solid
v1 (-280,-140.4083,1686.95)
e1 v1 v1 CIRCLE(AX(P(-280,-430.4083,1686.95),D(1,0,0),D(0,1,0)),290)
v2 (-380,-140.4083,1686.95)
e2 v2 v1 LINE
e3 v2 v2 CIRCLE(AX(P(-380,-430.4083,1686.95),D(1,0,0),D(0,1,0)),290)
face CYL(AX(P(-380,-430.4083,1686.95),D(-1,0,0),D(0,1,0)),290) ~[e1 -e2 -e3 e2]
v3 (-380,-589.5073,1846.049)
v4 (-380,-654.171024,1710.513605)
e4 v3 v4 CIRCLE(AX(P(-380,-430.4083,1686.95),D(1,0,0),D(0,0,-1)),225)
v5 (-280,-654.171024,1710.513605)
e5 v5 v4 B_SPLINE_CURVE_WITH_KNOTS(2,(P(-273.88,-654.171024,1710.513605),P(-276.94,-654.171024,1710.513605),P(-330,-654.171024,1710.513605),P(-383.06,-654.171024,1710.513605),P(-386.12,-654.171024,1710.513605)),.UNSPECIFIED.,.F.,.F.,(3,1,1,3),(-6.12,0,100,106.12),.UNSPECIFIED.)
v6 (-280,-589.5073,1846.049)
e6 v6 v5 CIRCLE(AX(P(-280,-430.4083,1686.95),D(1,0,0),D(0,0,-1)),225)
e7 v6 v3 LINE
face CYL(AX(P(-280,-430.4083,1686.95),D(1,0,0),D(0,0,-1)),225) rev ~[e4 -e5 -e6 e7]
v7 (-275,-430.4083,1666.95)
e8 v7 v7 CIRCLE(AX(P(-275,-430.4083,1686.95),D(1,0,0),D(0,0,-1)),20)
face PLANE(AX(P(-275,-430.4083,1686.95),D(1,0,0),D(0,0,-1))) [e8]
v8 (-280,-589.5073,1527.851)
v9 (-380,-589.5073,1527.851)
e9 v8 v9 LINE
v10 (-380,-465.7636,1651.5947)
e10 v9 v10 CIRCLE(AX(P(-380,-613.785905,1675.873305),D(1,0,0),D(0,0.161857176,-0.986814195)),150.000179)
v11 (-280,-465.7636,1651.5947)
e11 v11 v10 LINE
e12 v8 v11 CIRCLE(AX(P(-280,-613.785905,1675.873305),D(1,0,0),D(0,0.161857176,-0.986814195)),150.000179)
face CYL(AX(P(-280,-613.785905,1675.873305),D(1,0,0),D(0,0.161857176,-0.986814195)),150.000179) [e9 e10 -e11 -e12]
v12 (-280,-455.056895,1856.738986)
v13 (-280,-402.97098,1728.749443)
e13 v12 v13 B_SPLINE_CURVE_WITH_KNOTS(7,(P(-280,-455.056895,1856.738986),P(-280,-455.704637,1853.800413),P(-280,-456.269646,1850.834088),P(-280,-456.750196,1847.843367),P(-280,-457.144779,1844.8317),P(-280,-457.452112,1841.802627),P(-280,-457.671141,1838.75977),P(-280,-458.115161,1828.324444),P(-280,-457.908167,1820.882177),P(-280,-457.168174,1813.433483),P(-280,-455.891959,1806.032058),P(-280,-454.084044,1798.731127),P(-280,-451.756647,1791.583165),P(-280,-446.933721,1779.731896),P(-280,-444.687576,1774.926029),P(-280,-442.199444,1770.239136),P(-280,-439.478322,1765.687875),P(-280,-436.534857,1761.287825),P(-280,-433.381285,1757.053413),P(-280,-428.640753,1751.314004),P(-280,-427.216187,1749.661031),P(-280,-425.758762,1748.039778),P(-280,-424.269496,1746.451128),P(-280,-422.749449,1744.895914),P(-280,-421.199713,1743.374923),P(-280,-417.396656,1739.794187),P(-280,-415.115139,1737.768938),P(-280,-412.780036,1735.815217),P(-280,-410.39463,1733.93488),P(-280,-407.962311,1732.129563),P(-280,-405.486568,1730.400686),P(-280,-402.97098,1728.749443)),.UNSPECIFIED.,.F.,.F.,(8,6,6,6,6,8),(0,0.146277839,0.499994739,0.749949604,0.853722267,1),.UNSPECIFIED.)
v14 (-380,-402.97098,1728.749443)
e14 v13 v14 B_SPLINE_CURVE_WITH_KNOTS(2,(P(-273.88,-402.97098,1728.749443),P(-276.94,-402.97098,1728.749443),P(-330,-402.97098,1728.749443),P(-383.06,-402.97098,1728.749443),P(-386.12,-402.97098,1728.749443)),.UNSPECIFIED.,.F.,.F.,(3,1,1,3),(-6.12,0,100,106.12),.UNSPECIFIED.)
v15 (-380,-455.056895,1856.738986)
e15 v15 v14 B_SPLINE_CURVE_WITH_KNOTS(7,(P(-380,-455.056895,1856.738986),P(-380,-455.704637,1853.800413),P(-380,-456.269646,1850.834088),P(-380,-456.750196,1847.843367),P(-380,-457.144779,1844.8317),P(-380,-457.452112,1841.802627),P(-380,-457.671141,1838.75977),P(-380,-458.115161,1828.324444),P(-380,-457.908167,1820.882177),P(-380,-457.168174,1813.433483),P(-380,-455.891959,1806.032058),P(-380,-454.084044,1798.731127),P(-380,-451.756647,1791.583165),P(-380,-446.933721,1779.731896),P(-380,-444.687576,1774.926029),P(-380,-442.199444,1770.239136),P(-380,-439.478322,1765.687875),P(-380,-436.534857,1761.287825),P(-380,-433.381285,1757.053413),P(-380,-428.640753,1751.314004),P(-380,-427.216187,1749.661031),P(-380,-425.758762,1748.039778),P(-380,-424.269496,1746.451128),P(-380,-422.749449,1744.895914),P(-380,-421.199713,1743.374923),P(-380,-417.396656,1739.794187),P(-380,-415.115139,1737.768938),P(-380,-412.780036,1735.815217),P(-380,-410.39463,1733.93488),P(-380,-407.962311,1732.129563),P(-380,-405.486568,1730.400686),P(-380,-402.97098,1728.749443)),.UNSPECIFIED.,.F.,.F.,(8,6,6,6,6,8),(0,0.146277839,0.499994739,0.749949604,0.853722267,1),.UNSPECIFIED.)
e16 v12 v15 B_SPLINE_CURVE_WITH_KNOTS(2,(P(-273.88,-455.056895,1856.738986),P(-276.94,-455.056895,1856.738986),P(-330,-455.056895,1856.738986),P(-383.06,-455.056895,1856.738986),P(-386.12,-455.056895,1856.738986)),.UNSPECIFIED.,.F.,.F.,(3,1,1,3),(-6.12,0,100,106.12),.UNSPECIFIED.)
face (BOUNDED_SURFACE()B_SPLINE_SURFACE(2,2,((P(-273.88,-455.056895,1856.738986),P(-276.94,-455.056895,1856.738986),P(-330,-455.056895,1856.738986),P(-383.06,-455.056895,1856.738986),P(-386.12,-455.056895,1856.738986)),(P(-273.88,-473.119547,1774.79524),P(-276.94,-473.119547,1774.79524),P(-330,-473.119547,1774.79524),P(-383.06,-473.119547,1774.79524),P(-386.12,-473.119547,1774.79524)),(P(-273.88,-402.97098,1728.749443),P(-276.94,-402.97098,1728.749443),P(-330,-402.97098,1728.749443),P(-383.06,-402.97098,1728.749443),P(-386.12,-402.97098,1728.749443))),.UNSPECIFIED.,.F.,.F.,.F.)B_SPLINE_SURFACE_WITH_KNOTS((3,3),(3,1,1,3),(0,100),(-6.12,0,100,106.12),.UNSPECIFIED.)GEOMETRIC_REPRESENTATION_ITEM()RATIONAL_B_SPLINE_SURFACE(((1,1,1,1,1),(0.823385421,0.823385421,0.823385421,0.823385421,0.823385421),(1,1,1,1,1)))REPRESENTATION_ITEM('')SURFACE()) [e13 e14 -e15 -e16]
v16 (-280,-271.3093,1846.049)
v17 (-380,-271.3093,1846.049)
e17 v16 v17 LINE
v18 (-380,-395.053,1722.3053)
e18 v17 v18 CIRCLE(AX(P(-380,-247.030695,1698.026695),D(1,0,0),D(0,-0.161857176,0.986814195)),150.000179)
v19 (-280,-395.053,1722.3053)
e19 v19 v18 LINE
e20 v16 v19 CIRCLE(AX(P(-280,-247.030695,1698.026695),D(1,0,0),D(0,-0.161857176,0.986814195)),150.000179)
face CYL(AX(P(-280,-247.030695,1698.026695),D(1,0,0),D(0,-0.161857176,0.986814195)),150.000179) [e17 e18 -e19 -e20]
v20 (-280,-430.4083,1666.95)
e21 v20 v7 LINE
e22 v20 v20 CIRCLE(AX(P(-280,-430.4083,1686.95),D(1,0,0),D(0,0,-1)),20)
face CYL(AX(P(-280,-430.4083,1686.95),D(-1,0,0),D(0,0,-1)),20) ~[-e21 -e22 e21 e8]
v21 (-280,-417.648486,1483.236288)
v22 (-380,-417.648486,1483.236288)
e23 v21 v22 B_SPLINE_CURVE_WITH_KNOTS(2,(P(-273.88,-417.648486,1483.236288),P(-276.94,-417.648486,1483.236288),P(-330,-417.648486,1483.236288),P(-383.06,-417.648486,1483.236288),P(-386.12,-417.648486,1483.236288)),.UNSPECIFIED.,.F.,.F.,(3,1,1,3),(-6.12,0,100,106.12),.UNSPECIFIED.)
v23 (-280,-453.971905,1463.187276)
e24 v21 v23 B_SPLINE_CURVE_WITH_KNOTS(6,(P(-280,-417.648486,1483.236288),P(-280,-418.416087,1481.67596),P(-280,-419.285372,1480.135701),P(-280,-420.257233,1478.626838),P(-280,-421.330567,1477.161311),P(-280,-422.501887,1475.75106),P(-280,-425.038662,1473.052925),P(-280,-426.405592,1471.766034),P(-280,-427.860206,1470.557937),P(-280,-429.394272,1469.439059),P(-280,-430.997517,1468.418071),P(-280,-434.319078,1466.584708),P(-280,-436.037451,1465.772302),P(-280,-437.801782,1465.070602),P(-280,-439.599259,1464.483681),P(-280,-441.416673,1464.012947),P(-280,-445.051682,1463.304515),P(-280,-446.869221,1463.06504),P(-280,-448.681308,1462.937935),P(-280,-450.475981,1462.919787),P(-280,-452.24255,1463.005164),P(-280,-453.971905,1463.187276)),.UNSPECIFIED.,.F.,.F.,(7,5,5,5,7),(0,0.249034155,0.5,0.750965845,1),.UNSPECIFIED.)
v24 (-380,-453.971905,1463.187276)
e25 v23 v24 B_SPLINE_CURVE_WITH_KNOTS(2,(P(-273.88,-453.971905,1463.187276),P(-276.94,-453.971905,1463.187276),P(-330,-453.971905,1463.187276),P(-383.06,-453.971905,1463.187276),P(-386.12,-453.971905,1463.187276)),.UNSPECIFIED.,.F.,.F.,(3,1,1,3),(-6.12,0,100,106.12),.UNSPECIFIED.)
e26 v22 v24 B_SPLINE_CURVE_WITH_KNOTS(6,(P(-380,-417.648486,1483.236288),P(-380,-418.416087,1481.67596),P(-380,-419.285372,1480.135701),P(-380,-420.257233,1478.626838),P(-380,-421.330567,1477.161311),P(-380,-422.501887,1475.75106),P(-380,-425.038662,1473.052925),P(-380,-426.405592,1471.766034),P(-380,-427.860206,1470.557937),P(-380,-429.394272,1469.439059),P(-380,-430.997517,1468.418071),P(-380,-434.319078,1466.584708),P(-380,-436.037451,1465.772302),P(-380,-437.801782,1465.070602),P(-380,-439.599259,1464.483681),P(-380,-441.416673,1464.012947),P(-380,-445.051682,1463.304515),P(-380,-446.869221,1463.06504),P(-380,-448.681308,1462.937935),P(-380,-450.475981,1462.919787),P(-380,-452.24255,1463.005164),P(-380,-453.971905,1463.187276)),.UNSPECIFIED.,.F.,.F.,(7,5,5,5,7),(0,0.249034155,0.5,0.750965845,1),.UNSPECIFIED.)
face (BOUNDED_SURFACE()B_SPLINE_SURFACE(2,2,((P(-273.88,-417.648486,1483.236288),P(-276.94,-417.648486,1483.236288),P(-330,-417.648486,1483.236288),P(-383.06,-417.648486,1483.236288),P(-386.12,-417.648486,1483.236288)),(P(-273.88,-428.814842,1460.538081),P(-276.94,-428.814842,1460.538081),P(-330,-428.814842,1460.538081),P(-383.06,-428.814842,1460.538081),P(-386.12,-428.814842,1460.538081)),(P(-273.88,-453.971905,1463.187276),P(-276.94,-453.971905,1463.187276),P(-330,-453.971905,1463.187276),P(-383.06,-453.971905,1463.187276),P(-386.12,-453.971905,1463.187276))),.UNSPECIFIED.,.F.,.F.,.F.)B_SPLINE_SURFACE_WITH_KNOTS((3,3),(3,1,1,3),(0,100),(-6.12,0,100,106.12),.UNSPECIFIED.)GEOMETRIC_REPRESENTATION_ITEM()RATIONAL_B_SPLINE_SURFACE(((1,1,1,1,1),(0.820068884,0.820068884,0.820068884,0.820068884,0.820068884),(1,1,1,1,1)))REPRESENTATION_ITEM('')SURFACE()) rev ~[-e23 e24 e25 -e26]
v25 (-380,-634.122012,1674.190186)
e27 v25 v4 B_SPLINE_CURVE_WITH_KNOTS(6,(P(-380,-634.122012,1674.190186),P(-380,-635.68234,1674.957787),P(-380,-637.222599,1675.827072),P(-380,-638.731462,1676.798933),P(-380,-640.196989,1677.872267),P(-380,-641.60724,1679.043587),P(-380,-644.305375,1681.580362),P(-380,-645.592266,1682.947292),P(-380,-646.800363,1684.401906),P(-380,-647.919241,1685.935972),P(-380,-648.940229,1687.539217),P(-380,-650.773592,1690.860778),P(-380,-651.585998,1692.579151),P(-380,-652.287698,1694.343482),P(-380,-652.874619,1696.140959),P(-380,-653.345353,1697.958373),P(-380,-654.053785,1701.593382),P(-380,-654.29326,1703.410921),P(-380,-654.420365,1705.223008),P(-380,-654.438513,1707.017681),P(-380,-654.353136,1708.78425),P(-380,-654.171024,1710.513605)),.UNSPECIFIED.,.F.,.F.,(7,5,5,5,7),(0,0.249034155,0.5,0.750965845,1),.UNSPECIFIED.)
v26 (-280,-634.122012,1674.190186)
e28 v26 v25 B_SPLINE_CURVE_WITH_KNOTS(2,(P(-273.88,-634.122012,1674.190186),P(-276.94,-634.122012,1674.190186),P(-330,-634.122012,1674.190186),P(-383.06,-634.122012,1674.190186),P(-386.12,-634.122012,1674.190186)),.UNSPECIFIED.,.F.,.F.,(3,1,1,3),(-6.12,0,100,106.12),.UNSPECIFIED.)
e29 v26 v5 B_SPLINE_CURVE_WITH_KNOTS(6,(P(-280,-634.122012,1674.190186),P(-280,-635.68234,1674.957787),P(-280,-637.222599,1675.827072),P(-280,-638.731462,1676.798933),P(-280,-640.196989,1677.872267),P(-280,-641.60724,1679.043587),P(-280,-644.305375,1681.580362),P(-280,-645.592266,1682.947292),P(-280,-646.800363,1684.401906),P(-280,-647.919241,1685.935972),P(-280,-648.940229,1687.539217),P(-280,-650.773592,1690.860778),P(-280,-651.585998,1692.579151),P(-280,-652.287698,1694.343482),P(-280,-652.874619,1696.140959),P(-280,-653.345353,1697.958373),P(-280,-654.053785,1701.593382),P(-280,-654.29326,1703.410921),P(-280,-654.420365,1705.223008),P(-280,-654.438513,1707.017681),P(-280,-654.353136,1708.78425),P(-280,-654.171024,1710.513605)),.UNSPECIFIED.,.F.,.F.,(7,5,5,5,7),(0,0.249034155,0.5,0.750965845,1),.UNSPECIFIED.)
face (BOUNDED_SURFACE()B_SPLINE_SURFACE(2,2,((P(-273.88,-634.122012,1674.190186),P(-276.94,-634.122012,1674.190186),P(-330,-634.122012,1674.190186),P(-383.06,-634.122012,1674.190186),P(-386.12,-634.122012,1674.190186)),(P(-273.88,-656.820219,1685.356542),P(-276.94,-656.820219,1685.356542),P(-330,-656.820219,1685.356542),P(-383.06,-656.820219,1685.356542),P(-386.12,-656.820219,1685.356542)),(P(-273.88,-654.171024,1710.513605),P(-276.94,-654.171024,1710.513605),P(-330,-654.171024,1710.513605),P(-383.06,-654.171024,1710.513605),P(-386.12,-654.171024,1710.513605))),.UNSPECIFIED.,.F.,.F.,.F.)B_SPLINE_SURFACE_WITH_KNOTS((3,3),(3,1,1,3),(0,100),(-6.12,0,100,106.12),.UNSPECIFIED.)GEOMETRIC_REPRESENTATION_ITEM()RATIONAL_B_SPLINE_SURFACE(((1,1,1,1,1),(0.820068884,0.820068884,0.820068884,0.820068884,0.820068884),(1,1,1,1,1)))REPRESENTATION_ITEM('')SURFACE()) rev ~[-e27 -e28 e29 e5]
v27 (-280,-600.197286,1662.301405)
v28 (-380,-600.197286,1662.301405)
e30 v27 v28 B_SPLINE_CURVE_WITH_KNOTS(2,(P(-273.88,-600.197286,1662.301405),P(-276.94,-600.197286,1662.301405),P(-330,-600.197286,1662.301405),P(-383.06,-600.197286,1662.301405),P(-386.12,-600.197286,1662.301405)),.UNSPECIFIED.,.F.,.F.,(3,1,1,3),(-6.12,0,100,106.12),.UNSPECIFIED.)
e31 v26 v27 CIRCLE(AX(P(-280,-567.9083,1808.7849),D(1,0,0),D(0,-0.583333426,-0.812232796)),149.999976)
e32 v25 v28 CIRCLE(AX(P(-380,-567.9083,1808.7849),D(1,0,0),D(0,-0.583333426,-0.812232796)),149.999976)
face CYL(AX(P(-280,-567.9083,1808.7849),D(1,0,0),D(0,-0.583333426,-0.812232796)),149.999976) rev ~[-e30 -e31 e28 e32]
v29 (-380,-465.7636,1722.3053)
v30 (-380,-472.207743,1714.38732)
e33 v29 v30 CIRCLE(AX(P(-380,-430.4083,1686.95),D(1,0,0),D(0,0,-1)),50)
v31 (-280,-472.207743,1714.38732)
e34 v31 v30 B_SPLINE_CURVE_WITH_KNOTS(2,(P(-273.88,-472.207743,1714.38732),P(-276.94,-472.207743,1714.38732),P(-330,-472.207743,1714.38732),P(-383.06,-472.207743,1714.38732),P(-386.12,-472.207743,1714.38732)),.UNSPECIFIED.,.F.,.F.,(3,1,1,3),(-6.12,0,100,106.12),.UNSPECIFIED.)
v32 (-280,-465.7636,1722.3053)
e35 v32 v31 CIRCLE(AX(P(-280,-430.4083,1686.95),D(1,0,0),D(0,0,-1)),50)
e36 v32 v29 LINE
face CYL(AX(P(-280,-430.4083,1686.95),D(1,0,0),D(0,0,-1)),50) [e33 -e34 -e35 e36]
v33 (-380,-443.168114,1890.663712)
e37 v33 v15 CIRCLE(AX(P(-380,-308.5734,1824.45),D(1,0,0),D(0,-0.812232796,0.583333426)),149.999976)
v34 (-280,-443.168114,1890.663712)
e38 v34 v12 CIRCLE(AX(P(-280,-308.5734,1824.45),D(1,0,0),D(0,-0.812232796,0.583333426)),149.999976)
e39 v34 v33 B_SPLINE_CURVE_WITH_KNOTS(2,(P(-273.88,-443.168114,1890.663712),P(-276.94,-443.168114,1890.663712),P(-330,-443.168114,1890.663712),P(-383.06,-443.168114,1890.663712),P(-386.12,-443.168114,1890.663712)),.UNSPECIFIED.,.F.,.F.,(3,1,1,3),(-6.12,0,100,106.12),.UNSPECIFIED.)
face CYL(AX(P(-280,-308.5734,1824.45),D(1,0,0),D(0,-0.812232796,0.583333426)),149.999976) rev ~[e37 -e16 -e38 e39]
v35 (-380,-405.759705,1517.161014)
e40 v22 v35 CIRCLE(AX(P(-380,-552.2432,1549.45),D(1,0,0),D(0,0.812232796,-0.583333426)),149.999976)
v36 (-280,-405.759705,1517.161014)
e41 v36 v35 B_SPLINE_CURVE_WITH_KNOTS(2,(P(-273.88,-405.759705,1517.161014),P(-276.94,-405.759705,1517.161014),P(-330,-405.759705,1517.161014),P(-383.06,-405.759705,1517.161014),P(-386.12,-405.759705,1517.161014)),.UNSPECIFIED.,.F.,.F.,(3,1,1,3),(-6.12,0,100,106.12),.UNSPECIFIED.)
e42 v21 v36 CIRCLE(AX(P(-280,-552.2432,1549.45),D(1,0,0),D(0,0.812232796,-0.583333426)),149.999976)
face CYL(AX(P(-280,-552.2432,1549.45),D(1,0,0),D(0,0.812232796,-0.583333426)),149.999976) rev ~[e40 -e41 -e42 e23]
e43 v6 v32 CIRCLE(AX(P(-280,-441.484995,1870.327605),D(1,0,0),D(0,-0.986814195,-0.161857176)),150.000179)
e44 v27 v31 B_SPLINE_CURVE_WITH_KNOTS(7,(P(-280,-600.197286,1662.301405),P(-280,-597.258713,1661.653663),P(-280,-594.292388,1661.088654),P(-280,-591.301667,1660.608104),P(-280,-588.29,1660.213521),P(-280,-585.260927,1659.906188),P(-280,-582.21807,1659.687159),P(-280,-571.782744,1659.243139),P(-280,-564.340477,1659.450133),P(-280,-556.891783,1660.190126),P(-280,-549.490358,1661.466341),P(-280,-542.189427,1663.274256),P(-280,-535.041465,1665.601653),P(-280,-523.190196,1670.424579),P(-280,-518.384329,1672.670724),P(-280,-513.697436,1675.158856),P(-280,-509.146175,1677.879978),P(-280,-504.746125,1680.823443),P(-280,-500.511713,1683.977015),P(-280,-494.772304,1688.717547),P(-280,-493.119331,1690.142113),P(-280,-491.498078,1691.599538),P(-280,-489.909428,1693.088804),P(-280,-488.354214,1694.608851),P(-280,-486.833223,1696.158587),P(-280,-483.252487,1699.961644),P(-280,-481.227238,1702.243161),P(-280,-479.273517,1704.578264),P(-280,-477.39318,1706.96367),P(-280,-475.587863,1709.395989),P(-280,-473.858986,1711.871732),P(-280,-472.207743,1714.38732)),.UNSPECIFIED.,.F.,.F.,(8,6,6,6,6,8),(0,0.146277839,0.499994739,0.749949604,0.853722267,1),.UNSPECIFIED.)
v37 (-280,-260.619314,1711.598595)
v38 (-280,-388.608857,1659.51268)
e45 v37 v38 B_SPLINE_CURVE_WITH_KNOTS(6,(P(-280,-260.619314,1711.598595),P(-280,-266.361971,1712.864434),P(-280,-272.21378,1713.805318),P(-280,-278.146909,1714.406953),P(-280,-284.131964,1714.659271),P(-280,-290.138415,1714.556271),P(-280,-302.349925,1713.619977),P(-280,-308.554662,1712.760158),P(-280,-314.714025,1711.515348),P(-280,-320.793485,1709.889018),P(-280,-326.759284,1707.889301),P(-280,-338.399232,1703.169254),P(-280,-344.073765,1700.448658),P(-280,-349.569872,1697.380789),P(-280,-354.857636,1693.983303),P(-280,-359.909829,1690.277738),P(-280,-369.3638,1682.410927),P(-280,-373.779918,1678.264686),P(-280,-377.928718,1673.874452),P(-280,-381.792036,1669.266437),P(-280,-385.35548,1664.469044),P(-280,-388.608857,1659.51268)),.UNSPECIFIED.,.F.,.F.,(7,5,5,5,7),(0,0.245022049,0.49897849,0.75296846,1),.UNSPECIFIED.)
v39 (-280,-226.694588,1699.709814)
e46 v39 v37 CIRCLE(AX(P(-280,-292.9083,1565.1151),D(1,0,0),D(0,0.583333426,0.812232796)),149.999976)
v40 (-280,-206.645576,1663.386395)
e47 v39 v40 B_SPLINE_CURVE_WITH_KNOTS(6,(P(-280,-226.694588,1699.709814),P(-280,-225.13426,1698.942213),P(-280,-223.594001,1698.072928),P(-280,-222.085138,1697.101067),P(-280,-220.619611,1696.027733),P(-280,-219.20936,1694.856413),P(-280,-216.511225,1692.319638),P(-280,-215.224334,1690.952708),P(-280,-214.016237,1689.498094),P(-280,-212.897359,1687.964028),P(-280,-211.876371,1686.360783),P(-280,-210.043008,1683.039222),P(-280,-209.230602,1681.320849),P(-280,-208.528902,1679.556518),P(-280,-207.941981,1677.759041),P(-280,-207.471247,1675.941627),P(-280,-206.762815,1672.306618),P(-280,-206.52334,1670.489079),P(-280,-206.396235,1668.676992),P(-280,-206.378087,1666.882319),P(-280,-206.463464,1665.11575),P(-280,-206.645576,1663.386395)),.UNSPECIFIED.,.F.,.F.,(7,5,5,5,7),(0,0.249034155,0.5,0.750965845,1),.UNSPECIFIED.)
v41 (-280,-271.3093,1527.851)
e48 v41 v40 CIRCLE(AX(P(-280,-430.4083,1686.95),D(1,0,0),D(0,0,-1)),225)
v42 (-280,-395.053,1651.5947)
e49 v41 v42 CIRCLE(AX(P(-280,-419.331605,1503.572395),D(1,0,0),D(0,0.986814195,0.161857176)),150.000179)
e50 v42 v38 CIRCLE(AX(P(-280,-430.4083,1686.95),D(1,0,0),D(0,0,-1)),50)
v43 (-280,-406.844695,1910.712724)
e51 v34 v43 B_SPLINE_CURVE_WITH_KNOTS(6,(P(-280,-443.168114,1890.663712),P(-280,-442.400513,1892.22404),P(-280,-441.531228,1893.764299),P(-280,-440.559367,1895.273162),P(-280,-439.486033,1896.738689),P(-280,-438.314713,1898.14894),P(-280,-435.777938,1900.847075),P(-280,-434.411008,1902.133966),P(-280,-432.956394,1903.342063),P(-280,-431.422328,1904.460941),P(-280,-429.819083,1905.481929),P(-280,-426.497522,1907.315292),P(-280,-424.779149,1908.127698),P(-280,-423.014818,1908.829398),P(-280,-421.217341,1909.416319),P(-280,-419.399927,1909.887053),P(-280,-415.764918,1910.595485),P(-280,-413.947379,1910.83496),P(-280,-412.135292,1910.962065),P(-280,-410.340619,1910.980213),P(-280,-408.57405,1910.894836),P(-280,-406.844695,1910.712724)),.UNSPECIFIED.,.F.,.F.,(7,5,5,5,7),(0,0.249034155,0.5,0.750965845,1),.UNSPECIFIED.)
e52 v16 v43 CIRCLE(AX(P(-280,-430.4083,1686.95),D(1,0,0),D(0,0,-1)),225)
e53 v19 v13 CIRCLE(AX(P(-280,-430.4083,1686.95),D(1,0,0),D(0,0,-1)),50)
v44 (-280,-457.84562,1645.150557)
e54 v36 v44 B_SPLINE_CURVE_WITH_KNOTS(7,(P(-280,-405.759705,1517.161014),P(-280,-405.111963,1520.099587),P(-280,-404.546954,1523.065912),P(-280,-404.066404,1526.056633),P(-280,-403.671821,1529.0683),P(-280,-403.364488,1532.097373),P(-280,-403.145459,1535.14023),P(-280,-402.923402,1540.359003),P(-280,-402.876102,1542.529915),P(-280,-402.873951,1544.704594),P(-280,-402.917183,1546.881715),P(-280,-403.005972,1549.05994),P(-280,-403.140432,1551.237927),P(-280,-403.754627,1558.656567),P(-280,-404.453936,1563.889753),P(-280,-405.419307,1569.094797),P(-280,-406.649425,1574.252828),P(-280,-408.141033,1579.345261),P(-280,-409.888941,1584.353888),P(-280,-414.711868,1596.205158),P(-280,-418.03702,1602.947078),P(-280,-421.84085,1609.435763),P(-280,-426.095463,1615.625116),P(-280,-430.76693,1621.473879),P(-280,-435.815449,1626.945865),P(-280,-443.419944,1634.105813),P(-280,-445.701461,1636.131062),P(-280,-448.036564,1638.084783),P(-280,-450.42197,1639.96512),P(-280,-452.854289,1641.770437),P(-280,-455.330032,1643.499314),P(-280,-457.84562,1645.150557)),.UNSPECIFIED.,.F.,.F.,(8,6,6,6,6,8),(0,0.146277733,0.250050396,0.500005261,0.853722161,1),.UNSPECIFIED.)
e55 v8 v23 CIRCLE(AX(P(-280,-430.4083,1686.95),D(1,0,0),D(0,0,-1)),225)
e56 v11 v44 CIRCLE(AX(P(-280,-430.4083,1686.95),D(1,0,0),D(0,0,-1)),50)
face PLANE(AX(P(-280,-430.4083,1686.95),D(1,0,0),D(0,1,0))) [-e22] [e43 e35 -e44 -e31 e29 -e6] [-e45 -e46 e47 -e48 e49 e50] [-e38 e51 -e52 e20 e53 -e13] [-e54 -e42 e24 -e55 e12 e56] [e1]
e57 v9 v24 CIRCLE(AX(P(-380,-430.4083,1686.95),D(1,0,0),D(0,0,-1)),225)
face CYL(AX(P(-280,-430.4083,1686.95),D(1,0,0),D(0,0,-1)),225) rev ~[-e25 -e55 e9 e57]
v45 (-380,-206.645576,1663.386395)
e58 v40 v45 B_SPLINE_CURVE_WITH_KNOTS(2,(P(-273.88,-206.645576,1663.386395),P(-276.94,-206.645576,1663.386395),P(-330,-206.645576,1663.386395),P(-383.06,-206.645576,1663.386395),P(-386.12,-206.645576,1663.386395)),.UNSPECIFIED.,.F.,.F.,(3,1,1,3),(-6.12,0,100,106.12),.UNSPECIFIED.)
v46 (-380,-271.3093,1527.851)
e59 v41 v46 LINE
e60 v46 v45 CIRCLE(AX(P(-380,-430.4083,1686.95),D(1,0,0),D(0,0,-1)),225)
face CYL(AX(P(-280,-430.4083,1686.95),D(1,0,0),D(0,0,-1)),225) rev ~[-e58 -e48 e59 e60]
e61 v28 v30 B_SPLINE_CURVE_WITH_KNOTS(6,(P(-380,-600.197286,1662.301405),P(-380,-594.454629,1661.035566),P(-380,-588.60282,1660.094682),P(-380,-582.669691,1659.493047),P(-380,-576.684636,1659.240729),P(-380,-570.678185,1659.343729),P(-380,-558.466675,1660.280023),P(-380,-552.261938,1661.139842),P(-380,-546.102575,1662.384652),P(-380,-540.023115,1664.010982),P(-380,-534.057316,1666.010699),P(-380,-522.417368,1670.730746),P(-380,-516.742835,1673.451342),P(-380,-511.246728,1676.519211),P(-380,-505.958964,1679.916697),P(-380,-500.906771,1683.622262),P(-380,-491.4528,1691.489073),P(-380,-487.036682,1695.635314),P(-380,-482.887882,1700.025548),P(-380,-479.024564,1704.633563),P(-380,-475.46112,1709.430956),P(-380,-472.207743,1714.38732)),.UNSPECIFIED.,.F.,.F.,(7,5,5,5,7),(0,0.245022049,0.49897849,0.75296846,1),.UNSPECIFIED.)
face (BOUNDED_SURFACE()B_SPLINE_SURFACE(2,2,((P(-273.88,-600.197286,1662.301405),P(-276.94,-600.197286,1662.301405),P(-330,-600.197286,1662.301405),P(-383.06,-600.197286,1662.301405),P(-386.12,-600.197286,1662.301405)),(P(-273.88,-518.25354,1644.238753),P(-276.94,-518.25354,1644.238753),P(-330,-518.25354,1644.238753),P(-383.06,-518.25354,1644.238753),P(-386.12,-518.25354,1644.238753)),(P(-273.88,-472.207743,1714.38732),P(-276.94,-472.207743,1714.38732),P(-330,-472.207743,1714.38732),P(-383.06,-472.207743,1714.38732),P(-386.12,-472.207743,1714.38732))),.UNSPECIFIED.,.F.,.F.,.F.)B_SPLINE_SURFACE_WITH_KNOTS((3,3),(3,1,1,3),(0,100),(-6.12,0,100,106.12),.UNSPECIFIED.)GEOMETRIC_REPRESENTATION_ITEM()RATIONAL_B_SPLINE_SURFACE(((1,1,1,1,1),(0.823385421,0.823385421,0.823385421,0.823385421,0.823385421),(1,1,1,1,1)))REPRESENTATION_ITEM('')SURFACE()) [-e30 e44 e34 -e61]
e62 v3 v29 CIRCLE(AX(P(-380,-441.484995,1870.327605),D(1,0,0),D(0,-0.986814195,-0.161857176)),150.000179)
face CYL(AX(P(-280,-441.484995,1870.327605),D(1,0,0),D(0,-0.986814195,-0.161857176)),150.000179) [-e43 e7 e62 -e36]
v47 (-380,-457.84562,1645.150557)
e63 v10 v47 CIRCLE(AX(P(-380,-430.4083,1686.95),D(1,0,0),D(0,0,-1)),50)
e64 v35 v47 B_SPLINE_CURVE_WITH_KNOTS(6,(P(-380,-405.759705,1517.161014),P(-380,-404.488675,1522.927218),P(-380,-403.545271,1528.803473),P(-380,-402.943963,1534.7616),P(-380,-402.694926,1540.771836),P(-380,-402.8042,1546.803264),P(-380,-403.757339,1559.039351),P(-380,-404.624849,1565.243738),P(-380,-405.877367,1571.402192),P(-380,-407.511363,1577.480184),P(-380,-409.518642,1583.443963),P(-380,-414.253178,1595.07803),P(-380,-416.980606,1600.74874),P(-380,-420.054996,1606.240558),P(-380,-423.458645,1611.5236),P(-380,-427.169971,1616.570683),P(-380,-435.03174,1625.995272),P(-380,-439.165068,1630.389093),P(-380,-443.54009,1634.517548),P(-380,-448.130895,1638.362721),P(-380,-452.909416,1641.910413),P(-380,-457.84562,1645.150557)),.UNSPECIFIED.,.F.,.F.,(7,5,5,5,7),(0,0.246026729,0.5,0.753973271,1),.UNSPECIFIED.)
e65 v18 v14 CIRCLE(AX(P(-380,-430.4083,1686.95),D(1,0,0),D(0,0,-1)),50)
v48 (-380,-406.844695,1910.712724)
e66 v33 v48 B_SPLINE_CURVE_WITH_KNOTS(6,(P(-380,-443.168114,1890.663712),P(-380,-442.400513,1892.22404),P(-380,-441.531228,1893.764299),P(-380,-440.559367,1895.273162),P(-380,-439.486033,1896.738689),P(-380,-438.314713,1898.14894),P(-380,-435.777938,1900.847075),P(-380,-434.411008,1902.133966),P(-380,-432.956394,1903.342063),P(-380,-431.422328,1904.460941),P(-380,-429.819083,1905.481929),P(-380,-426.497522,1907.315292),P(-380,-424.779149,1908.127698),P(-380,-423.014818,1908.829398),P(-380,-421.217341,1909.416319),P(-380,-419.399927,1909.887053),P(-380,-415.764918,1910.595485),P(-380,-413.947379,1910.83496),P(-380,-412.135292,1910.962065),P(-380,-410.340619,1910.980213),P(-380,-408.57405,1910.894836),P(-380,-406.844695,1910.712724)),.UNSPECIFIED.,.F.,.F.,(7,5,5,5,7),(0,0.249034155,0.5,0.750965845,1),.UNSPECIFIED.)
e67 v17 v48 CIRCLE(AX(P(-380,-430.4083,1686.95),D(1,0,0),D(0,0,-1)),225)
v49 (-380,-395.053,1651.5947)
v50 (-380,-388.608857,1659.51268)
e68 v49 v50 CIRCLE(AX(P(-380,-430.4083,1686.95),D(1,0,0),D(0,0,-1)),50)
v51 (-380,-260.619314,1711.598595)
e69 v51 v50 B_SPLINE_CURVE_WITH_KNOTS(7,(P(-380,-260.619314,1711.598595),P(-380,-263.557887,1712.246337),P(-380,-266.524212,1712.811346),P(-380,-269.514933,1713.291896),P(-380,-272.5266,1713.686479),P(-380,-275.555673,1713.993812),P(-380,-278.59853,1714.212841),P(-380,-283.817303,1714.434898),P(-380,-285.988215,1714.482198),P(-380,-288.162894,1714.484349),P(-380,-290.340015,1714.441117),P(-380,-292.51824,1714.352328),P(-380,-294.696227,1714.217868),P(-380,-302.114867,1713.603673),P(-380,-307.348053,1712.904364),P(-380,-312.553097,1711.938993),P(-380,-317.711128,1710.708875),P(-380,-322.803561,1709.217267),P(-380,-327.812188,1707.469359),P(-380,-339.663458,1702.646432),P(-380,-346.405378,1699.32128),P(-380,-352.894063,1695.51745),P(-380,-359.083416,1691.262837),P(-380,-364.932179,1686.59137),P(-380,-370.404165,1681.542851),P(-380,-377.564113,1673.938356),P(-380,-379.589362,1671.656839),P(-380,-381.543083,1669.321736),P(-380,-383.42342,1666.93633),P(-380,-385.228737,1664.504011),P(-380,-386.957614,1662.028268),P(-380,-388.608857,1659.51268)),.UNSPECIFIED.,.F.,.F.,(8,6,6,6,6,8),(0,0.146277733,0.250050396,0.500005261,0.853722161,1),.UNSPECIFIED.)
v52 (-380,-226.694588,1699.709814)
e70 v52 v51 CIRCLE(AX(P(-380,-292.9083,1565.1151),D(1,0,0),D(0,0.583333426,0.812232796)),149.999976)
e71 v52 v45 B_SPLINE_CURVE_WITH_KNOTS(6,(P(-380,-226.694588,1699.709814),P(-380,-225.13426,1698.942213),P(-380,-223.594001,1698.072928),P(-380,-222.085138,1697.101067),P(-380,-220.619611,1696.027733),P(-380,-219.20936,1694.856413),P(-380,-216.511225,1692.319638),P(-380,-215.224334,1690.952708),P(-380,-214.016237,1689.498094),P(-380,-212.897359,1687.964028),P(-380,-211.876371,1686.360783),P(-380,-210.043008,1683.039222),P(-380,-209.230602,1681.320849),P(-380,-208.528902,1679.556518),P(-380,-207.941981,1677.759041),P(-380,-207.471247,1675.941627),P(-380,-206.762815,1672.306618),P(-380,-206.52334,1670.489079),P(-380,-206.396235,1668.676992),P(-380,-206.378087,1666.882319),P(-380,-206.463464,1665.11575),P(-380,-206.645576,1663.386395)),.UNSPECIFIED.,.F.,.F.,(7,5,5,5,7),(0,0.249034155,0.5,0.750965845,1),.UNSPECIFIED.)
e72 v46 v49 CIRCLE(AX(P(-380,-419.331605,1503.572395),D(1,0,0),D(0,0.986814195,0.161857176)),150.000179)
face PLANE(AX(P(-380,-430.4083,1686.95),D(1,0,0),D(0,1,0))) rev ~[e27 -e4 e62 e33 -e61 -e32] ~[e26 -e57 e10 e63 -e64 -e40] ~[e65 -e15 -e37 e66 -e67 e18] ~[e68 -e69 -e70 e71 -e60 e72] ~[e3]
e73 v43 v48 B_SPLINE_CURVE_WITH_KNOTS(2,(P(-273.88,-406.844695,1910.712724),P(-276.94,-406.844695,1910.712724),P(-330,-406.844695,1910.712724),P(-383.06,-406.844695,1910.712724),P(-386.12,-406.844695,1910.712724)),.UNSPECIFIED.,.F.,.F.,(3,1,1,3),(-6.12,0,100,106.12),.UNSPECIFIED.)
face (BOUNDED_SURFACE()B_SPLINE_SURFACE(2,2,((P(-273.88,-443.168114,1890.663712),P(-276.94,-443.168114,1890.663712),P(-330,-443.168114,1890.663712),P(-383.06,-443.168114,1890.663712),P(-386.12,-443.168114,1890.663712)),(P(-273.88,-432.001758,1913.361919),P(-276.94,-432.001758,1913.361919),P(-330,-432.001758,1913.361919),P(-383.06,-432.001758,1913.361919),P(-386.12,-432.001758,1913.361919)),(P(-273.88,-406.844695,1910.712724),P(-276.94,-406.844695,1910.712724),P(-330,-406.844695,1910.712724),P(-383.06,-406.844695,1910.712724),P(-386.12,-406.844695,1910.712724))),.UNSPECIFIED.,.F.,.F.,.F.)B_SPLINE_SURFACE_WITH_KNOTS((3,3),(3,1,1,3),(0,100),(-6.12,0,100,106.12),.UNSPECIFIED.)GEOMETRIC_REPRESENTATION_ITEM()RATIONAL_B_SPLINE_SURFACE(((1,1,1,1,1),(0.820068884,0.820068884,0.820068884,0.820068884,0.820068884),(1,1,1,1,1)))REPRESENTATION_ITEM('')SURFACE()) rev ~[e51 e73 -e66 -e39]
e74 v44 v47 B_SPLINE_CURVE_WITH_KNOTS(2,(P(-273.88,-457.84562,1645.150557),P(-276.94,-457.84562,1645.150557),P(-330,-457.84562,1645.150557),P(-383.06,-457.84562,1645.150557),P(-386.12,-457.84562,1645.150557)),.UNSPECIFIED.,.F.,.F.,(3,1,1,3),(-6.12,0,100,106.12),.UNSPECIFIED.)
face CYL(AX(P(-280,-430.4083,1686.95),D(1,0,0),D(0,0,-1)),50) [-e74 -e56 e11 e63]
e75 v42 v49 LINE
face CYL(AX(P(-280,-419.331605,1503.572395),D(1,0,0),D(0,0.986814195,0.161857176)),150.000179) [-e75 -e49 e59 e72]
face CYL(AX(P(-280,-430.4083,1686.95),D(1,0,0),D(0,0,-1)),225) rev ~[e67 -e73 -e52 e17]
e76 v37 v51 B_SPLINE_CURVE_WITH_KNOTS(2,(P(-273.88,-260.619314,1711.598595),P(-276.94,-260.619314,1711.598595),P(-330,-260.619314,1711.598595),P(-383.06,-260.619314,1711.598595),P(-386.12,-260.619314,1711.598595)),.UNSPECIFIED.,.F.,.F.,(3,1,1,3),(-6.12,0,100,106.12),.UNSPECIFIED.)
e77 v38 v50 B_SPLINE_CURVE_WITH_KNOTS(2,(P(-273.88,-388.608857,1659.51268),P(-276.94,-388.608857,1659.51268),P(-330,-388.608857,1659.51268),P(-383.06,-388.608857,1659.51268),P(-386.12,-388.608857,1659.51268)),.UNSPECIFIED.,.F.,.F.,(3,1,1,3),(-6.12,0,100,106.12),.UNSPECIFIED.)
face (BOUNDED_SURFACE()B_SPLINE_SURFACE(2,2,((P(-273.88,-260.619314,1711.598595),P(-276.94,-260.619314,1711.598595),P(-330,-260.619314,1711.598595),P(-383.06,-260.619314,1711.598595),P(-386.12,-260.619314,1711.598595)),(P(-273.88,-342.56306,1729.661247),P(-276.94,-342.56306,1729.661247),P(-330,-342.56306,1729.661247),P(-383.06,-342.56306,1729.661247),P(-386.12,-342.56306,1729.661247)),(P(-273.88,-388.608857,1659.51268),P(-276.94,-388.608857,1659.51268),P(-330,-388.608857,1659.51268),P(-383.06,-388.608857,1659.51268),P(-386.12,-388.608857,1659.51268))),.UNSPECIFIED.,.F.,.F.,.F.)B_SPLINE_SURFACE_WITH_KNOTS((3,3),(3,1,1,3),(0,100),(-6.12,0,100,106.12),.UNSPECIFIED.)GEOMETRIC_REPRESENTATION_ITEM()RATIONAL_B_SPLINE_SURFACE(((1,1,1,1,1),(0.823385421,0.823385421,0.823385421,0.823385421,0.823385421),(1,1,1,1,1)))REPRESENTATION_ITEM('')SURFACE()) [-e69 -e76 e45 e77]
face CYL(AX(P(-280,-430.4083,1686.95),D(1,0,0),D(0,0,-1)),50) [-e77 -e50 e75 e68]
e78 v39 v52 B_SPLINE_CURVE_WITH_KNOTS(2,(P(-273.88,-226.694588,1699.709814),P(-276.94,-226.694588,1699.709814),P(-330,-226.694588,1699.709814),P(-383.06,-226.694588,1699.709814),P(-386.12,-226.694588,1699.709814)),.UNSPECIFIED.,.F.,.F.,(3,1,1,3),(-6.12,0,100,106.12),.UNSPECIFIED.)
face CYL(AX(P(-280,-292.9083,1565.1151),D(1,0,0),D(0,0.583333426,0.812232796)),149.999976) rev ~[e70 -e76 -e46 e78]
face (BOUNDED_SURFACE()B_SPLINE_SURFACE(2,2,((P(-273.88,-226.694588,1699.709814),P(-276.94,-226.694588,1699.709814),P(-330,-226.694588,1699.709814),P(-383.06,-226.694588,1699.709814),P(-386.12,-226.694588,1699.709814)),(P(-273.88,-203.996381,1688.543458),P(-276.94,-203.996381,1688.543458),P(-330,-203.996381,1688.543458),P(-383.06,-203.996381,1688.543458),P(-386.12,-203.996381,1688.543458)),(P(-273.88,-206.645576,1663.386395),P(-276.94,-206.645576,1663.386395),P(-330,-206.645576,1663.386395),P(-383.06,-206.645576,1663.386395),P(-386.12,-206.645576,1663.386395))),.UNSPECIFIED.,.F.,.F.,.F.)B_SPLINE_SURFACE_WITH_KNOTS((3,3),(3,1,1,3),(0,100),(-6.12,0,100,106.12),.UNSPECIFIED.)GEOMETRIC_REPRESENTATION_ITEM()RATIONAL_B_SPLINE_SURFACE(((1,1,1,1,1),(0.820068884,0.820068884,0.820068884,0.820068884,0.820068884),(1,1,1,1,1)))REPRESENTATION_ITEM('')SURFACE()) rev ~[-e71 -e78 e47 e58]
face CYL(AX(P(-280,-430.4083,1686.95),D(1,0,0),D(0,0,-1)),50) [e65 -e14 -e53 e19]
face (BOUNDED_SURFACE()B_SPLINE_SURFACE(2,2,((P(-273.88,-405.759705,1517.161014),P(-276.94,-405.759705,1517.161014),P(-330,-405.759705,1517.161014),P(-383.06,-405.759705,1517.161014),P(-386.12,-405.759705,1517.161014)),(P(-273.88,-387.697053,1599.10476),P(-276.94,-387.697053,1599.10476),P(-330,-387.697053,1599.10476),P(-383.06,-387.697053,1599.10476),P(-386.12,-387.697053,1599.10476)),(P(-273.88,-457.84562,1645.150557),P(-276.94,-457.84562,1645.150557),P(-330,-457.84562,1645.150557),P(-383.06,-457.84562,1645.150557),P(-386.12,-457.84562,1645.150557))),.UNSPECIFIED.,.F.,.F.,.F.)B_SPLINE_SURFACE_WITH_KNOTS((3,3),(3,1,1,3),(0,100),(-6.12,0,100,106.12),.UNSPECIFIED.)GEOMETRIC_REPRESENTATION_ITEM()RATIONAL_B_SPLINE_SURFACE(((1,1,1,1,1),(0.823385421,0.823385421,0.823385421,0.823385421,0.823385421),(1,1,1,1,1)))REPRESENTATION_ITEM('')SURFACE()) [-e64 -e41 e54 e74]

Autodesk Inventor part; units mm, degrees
ref_plane "YZ Plane" through (0, 0, 0) normal (1, 0, 0) x (0, 1, 0)
ref_plane "XZ Plane" through (0, 0, 0) normal (0, 1, 0) x (-1, 0, 0)
ref_plane "XY Plane" through (0, 0, 0) normal (0, 0, 1) x (1, 0, 0)
ref_plane "작업 평면1" through (-380, -430.4083, 1686.95) normal (1, 0, 0) x (0, 1, 0)
sketch "스케치1" plane through (-380, -430.4083, 1686.95) normal (1, 0, 0) x (0, 1, 0)
  circle A0 centre (0, 0) radius 290
  point P0 (430.4083, -1686.95)
  dimension "d0" = 580
extrude "돌출1" add sketch "스케치1" along normal blind 100
sketch "스케치3" plane through (-280, -430.4083, 1686.95) normal (1, 0, 0) x (0, 0, -1)
  circle A0 centre (0, 0) radius 225
  circle A1 centre (0, 0) radius 20 projected
  circle A2 centre (0, 0) radius 50
  arc A3 (225, 0) -> (50, 0) centre (137.5, -121.8349) ccw
  arc A4 (0, -225) -> (0, -50) centre (-121.8349, -137.5) ccw
  line L0 (0, 0) -> (159.099, -159.099)
  line L1 (0, 0) -> (225, 0) construction
  line L2 (159.099, -159.099) -> (-159.099, 159.099)
  line L3 (0, 0) -> (159.099, 159.099)
  line L4 (0, 0) -> (225, 0) construction
  line L5 (159.099, 159.099) -> (-159.099, -159.099)
  arc A5 (-159.099, -159.099) -> (-35.3553, -35.3553) centre (-183.3775, -11.0769) ccw
  arc A6 (159.099, 159.099) -> (35.3553, 35.3553) centre (183.3775, 11.0769) ccw
  arc A7 (159.099, -159.099) -> (35.3553, -35.3553) centre (11.0769, -183.3775) ccw
  arc A8 (-225, 0) -> (-50, 0) centre (-137.5, 121.8349) ccw
  arc A9 (-159.099, 159.099) -> (-35.3553, 35.3553) centre (-11.0769, 183.3775) ccw
  arc A10 (0, 225) -> (0, 50) centre (121.8349, 137.5) ccw
  point P0 (1686.95, 430.4083)
  dimension "d6" = 450
  dimension "d7" = 100
  dimension "d10" = 150
  dimension "d11" = 150
  dimension "d12" = 45
  dimension "d13" = 45
  dimension "d14" = 150
  dimension "d16" = 150
  dimension "d17" = 150
  dimension "d18" = 150
  dimension "d19" = 150
  dimension "d20" = 150
extrude "돌출3" cut sketch "스케치3" against normal blind 100 contours A0 A7 A2 A3 | A6 A2 A10 A0 | A0 A5 A2 A4 | A9 A2 A8 A0
fillet "모깎기1" radius 121.75 4 edges at (-330, -380.4083, 1686.95) (-330, -430.4083, 1736.95) (-330, -480.4083, 1686.95) (-330, -430.4083, 1636.95)
fillet "모깎기2" radius 36.25 4 edges at (-330, -205.4083, 1686.95) (-330, -430.4083, 1911.95) (-330, -430.4083, 1461.95) (-330, -655.4083, 1686.95)
sketch "스케치4" plane through (-280, -430.4083, 1686.95) normal (1, 0, 0) x (0, 0, -1)
  circle A0 centre (0, 0) radius 20
  point P0 (1686.95, 430.4083)
  dimension "d25" = 40
extrude "돌출4" add sketch "스케치4" along normal blind 5
properties part number "바퀴"
